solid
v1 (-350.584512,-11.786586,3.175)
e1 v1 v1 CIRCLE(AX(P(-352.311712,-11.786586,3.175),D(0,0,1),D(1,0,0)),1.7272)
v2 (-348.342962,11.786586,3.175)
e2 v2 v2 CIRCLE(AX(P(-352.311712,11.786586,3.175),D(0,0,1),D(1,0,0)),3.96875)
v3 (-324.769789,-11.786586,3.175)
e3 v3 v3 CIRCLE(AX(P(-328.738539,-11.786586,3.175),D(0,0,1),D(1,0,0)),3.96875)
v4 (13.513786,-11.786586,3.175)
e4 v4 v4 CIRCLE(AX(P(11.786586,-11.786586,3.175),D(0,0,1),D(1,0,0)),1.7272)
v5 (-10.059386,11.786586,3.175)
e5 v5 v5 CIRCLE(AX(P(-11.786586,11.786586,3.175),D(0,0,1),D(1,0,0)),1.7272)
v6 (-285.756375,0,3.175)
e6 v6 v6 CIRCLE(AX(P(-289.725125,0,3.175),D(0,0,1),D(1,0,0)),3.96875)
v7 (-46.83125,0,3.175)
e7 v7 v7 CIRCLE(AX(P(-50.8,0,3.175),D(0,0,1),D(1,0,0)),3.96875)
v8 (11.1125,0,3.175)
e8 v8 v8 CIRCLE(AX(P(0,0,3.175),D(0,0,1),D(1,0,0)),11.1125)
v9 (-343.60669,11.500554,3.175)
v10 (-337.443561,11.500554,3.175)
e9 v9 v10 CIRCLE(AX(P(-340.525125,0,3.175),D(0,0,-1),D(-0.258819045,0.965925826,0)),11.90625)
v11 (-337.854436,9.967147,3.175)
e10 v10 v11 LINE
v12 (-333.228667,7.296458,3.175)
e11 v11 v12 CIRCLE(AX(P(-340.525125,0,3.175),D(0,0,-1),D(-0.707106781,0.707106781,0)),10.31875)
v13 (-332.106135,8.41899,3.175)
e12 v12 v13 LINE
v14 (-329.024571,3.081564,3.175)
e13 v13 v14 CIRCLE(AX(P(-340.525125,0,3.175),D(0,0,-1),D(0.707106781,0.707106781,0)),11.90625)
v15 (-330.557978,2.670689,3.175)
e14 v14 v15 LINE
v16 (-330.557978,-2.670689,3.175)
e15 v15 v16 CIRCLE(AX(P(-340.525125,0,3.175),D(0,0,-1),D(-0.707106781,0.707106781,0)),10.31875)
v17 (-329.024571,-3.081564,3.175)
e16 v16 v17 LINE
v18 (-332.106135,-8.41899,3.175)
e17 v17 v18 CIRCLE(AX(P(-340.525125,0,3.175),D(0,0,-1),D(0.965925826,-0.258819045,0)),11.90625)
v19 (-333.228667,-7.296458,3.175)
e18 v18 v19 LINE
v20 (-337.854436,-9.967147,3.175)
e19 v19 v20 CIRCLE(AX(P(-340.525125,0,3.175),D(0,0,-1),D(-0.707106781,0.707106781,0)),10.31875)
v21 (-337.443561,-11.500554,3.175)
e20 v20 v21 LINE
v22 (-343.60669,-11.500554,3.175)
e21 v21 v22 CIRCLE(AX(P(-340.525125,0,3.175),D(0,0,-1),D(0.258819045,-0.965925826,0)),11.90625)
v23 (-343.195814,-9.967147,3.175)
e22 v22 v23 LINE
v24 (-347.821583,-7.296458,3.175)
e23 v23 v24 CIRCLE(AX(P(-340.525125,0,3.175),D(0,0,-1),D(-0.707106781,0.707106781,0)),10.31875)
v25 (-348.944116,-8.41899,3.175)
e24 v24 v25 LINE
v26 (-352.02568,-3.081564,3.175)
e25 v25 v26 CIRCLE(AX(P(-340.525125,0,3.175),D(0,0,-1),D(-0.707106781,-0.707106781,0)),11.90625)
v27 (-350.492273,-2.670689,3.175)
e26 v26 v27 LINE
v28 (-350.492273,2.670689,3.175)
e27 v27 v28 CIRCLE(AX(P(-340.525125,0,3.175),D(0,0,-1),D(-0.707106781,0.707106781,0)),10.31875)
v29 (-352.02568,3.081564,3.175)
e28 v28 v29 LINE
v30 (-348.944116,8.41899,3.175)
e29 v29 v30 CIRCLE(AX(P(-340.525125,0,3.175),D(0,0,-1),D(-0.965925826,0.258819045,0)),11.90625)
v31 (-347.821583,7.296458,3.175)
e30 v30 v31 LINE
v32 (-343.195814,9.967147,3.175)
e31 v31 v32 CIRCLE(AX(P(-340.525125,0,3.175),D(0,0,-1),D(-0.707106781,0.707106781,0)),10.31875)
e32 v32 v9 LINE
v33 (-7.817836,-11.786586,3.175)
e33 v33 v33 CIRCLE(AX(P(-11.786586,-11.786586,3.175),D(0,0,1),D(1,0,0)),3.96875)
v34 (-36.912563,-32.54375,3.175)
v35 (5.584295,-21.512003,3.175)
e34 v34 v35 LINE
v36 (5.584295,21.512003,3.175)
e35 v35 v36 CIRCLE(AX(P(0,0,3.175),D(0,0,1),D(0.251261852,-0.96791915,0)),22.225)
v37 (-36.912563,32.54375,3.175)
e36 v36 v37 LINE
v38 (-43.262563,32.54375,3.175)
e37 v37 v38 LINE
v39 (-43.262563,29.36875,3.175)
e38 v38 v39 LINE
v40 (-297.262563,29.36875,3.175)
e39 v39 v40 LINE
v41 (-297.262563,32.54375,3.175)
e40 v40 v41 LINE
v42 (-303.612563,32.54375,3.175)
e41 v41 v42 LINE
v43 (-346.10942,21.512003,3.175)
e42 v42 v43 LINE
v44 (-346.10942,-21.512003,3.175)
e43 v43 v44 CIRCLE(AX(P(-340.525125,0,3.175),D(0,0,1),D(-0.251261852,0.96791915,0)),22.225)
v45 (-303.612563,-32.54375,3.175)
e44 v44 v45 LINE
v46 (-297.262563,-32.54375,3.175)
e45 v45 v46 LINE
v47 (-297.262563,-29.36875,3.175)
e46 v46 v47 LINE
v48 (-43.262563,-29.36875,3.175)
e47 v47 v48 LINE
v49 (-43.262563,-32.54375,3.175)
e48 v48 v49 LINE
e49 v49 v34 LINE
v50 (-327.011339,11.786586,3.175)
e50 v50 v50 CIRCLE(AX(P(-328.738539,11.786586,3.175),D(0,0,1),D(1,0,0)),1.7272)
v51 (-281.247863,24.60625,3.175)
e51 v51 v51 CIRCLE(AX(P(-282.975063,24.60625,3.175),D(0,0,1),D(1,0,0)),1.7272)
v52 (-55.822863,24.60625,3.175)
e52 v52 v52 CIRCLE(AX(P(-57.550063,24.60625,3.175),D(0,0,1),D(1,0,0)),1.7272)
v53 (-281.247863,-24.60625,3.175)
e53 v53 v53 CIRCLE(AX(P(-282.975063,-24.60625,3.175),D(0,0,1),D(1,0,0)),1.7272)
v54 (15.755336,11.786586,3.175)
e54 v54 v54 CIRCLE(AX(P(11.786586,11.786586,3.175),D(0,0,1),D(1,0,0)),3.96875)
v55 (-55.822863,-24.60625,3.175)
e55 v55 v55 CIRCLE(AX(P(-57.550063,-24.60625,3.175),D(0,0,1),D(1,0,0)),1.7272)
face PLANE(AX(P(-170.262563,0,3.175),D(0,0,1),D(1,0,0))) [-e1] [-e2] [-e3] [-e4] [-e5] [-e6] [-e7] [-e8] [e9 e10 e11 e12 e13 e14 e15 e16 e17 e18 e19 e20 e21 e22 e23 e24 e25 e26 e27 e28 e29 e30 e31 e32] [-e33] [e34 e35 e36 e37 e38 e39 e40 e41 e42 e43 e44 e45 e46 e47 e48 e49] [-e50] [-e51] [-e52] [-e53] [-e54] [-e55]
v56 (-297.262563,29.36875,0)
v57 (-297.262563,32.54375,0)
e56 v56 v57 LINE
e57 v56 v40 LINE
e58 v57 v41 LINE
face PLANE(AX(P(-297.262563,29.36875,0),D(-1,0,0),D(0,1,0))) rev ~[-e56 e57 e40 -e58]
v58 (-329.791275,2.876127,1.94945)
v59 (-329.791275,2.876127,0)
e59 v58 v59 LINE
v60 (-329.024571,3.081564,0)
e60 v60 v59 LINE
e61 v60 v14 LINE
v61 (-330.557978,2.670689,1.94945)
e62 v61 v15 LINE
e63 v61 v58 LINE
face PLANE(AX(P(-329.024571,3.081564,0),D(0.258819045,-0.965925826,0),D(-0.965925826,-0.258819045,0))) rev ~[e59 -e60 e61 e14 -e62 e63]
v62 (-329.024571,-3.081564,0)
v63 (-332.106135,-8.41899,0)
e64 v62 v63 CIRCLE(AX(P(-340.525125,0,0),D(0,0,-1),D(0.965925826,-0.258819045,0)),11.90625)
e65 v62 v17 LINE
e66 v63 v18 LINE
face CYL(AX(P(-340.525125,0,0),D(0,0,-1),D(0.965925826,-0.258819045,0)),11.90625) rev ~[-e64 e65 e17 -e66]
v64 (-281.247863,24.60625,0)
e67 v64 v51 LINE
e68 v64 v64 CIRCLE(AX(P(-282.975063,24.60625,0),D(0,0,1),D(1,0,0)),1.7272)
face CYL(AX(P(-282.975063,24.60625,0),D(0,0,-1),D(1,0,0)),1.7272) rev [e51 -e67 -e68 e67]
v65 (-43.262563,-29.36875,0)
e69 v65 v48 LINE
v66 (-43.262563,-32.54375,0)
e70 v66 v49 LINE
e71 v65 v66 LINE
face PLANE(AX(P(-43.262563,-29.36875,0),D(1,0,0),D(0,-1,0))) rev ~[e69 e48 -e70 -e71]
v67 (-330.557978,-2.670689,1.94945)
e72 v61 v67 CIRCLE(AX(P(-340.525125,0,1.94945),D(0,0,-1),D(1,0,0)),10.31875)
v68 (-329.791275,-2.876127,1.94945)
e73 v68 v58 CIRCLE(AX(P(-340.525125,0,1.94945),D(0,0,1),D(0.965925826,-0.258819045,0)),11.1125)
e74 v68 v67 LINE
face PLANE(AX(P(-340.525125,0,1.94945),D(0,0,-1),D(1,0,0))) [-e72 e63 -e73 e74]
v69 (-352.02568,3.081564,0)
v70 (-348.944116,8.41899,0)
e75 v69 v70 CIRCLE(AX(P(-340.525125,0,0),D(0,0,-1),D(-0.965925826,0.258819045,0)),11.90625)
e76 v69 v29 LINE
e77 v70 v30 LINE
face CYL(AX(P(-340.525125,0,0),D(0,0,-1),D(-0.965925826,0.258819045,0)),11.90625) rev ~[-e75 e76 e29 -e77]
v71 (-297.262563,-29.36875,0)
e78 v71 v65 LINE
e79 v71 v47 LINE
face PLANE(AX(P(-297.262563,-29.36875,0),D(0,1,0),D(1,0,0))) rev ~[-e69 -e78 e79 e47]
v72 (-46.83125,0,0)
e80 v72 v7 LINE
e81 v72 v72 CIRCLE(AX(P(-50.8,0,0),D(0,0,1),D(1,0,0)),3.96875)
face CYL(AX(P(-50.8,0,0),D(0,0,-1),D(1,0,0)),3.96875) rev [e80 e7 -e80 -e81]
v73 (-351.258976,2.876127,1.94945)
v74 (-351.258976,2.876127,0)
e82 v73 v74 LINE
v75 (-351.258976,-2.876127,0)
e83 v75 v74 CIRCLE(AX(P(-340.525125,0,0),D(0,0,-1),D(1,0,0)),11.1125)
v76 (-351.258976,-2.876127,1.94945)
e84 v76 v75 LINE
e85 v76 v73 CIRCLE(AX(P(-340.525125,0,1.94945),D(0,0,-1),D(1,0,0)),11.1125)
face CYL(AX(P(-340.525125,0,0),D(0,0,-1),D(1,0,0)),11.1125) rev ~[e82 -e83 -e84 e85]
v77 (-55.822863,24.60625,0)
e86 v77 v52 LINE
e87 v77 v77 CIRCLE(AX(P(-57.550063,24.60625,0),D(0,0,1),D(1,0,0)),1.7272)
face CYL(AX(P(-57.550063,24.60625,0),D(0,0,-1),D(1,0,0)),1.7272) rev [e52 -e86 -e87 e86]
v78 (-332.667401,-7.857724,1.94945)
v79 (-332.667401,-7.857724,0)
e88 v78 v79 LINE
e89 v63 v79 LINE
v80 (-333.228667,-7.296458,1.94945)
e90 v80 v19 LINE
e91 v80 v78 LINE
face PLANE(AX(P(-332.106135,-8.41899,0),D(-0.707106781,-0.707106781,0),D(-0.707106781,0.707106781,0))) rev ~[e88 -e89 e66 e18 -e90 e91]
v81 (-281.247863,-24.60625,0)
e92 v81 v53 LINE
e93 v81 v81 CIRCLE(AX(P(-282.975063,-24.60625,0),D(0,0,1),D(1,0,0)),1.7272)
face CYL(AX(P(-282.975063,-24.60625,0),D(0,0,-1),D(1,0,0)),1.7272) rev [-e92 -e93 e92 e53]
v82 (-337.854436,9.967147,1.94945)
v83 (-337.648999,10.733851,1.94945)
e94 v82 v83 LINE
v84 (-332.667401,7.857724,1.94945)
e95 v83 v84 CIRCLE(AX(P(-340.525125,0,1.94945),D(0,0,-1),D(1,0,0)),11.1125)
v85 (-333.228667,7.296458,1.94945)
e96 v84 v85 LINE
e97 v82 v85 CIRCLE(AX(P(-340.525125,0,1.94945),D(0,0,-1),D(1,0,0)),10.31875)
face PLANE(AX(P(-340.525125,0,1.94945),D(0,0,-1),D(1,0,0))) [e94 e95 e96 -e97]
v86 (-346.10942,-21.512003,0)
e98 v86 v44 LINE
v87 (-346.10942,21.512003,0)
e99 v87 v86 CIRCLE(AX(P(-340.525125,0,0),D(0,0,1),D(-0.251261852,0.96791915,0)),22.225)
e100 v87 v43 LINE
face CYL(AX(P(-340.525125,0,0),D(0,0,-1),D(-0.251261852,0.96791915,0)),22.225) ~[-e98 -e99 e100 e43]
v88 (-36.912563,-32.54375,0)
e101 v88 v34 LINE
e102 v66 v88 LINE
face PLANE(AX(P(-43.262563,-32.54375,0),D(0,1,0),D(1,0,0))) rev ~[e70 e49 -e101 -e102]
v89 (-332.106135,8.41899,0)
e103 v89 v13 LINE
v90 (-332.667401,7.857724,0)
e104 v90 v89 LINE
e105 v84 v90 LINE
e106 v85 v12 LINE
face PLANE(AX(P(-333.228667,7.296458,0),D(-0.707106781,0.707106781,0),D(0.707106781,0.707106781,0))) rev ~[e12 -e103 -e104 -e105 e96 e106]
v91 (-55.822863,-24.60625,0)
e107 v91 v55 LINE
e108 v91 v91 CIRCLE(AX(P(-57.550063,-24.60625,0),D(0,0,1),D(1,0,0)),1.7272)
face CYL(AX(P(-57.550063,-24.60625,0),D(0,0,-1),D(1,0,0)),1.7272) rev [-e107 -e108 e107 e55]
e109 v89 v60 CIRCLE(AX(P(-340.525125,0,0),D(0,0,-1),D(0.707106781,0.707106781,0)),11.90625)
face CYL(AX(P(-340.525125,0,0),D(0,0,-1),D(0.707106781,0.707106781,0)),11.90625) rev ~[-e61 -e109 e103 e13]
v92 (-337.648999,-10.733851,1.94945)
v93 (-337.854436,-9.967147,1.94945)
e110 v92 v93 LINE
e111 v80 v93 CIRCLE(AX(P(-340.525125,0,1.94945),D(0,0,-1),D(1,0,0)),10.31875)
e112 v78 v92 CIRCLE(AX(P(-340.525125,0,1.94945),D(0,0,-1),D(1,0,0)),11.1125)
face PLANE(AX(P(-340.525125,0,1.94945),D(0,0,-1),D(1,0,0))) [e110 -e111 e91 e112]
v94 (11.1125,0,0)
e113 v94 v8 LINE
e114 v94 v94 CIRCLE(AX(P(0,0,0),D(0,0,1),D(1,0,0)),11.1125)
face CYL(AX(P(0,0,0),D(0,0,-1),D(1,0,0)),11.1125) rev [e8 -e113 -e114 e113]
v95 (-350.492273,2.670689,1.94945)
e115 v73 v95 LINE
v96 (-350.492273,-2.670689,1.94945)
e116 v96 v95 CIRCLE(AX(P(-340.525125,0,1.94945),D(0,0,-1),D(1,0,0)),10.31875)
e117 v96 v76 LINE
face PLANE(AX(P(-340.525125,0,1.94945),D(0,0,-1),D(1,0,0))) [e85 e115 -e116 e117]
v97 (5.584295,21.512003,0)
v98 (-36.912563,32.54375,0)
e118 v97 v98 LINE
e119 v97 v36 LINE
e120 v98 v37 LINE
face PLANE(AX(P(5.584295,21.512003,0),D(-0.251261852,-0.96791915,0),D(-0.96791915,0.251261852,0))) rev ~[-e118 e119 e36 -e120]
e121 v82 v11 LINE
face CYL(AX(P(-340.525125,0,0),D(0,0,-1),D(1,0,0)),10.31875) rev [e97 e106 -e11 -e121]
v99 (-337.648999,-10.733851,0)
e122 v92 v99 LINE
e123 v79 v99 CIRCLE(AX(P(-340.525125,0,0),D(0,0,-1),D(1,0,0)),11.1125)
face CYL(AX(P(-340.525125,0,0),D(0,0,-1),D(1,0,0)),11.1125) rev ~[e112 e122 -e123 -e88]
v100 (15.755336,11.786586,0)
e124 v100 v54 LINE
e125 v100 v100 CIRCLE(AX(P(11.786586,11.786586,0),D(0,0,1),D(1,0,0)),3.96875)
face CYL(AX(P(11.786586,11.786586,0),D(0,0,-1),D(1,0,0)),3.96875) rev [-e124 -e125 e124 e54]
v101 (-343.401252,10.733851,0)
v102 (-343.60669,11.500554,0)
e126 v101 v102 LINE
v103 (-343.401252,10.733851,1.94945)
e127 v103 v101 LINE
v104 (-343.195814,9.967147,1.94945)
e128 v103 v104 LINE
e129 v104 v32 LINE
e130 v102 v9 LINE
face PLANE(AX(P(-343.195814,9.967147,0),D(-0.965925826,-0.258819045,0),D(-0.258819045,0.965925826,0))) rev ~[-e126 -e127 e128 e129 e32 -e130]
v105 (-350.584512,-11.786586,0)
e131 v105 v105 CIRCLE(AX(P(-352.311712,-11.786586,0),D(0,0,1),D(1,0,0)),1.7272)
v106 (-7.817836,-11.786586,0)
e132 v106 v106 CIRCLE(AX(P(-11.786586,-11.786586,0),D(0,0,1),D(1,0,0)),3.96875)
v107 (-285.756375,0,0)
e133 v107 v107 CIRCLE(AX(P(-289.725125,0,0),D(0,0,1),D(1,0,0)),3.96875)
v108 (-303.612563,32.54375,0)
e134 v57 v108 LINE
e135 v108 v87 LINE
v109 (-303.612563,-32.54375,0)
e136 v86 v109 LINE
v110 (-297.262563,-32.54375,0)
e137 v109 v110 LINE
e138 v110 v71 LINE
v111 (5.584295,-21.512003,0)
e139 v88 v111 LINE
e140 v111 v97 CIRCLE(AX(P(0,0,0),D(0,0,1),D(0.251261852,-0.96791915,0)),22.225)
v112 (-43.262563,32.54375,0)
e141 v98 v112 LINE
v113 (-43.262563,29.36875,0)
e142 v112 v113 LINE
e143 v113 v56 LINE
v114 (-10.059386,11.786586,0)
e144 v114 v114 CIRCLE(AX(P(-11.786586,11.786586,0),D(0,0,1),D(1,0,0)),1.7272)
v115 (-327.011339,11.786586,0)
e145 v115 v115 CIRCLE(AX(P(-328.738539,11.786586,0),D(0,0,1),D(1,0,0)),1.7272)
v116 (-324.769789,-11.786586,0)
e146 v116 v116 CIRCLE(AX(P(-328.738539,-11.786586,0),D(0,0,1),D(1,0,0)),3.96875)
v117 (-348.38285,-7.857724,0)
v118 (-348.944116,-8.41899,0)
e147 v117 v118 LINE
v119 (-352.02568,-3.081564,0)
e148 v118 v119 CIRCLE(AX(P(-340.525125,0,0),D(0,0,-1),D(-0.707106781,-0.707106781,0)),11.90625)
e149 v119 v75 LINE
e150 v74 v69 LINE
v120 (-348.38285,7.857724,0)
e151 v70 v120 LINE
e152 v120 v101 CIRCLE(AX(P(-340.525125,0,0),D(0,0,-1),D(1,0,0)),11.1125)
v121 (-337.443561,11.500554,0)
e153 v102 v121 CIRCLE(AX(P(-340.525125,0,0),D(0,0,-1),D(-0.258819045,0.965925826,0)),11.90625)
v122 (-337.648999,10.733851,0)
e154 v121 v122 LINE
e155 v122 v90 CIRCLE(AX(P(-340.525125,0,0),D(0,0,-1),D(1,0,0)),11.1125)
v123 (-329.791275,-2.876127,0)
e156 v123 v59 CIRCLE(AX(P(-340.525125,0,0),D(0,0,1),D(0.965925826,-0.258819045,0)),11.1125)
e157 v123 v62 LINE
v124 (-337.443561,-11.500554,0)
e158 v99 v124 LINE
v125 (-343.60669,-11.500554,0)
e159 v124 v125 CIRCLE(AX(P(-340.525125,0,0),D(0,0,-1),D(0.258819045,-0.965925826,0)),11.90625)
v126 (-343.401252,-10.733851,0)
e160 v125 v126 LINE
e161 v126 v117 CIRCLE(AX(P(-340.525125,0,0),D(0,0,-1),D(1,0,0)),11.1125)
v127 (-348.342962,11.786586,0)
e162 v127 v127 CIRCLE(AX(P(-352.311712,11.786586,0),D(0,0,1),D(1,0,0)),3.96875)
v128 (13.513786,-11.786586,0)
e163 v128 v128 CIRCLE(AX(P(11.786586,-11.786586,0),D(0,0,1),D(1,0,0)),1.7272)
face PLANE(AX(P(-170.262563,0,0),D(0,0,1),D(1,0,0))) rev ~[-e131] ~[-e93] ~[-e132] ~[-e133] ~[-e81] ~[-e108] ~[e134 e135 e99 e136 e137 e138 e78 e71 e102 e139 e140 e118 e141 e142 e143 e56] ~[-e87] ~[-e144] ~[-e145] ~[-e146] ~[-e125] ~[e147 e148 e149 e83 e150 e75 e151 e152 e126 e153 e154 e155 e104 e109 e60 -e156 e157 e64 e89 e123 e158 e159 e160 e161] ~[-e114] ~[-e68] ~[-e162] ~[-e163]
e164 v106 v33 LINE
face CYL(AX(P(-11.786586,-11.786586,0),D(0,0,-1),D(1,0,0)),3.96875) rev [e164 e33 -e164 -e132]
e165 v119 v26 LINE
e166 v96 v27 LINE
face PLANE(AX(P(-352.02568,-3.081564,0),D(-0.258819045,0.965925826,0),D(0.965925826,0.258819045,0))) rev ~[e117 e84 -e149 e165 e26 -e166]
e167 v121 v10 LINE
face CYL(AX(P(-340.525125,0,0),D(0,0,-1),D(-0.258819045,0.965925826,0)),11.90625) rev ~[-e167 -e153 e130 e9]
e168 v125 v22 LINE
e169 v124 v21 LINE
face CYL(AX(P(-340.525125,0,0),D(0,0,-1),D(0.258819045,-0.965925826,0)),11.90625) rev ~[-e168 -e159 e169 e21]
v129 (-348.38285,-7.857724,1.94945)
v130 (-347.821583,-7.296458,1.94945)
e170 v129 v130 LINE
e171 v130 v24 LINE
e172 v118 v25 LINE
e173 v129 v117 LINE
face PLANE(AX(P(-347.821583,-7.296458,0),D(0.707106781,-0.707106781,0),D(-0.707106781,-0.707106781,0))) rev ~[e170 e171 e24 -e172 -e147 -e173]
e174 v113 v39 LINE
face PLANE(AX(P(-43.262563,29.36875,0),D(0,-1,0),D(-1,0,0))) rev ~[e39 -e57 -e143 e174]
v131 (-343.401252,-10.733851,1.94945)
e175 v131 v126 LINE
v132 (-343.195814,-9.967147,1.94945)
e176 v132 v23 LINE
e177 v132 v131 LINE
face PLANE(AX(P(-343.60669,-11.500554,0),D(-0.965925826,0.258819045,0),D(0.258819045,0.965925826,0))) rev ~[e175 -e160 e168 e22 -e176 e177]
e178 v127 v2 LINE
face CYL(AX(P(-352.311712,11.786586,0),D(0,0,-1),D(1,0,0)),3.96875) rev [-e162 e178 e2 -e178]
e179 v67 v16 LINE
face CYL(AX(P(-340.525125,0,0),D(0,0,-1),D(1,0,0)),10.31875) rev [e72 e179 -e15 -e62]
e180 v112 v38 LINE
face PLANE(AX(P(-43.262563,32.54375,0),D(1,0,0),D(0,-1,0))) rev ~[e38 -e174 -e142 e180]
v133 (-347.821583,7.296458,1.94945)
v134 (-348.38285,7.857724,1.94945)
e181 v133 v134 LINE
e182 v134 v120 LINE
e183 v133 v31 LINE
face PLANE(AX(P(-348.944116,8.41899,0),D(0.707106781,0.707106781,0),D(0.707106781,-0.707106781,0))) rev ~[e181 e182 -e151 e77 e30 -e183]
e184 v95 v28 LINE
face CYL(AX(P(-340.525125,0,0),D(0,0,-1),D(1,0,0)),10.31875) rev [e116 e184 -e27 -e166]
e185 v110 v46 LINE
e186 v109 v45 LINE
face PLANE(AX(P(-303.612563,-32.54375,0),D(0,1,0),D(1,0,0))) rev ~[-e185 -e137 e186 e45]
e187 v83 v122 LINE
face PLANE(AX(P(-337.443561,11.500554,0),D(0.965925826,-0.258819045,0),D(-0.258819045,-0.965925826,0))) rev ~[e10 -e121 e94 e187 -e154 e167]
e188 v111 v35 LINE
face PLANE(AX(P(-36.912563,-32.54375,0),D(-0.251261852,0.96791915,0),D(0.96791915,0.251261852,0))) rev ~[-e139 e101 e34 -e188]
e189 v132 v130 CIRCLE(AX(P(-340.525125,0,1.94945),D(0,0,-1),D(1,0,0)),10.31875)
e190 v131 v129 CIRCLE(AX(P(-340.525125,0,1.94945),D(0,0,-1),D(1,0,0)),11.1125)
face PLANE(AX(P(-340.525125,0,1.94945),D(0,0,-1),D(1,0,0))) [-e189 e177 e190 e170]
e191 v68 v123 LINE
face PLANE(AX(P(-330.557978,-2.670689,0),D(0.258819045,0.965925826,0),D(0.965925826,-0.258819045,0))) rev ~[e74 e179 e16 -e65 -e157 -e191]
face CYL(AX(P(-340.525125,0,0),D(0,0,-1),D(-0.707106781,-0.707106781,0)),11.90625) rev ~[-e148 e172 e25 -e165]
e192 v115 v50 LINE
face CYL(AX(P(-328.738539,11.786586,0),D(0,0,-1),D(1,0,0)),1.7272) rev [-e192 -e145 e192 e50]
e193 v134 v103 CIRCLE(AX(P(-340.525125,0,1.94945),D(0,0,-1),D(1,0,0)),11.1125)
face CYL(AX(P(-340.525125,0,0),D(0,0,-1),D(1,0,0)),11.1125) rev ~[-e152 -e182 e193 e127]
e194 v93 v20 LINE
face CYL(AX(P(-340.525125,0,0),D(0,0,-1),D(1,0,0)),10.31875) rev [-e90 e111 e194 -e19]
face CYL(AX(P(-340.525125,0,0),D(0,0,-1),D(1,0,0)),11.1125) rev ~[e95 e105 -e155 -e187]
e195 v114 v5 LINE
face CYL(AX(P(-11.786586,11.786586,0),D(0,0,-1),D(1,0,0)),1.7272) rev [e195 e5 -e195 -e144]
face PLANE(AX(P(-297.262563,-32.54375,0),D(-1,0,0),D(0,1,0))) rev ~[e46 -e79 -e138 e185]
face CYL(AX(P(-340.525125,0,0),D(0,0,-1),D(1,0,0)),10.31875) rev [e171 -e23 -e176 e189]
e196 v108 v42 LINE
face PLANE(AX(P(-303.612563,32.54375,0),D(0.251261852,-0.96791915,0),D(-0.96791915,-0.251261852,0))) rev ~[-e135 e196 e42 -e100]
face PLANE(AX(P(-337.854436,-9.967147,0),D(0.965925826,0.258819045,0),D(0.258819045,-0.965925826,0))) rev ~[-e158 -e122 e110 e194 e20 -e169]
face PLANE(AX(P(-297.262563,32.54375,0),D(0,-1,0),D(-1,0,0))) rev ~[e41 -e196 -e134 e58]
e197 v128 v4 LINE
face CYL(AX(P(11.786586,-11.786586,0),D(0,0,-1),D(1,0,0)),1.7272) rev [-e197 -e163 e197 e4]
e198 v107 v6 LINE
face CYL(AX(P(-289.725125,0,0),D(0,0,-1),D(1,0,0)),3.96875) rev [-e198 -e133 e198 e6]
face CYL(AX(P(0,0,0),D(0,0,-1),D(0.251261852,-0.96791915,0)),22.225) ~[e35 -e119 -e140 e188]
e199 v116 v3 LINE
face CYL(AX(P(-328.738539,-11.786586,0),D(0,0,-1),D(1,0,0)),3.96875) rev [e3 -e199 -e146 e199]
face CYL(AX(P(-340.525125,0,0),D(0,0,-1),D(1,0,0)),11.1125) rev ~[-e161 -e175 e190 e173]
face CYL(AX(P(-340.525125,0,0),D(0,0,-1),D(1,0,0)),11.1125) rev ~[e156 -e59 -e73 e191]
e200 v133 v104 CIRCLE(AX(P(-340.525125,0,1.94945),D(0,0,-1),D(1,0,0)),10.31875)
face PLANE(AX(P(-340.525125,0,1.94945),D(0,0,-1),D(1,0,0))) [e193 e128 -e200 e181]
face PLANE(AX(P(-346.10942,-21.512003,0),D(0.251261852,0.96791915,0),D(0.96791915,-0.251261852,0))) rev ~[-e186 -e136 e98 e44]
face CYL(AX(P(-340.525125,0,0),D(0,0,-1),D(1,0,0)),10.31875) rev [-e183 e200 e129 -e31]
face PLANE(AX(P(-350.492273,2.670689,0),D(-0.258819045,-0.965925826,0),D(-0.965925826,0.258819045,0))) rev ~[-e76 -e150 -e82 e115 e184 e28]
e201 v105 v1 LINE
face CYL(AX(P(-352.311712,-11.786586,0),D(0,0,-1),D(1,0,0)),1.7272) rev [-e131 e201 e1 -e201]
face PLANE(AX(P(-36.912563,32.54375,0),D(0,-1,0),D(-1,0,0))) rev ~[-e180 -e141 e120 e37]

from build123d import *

# Parameters (mm, degrees)
F0_R     = 1.7272
F0_R_2   = 3.96875
F0_R_3   = 10.31875
F0_R_4   = 11.1125
F1_DEPTH = 3.175
F3_DEPTH = 3.175
F4_COUNT = 6
F4_ANGLE = 300
F5_R     = 11.1125
F6_DEPTH = 1.94945


with BuildPart() as f1:
    # F0 (on Top) → F1 (new body)
    with BuildSketch(Plane.XY):
        with BuildLine():
            Line((-303.6125627, 32.54375), (-346.1094200534, 21.5120031198))
            ThreePointArc((-346.1094200534, 21.5120031198), (-362.7501254, 0), (-346.1094200534, -21.5120031198))
            Line((-346.1094200534, -21.5120031198), (-303.6125627, -32.54375))
            Line((-303.6125627, -32.54375), (-297.2625627, -32.54375))
            Line((-297.2625627, -32.54375), (-297.2625627, -29.36875))
            Line((-297.2625627, -29.36875), (-43.2625627, -29.36875))
            Line((-43.2625627, -29.36875), (-43.2625627, -32.54375))
            Line((-43.2625627, -32.54375), (-36.9125627, -32.54375))
            Line((-36.9125627, -32.54375), (5.5842946534, -21.5120031198))
            ThreePointArc((5.5842946534, -21.5120031198), (22.225, 0), (5.5842946534, 21.5120031198))
            Line((5.5842946534, 21.5120031198), (-36.9125627, 32.54375))
            Line((-36.9125627, 32.54375), (-43.2625627, 32.54375))
            Line((-43.2625627, 32.54375), (-43.2625627, 29.36875))
            Line((-43.2625627, 29.36875), (-297.2625627, 29.36875))
            Line((-297.2625627, 29.36875), (-297.2625627, 32.54375))
            Line((-297.2625627, 32.54375), (-303.6125627, 32.54375))
        make_face()
        with Locations((-282.9750627, -24.60625)):
            Circle(F0_R, mode=Mode.SUBTRACT)
        with Locations((-352.3117115589, -11.7865861589)):
            Circle(F0_R, mode=Mode.SUBTRACT)
        with Locations((-328.7385392411, -11.7865861589)):
            Circle(F0_R_2, mode=Mode.SUBTRACT)
        with Locations((-57.5500627, -24.60625)):
            Circle(F0_R, mode=Mode.SUBTRACT)
        with Locations((-11.7865861589, -11.7865861589)):
            Circle(F0_R_2, mode=Mode.SUBTRACT)
        with Locations((11.7865861589, -11.7865861589)):
            Circle(F0_R, mode=Mode.SUBTRACT)
        with Locations((-340.5251254, 0)):
            Circle(F0_R_3, mode=Mode.SUBTRACT)
        with Locations((-289.7251254, 0)):
            Circle(F0_R_2, mode=Mode.SUBTRACT)
        with Locations((-352.3117115589, 11.7865861589)):
            Circle(F0_R_2, mode=Mode.SUBTRACT)
        with Locations((-328.7385392411, 11.7865861589)):
            Circle(F0_R, mode=Mode.SUBTRACT)
        with Locations((-282.9750627, 24.60625)):
            Circle(F0_R, mode=Mode.SUBTRACT)
        with Locations((-50.8, 0)):
            Circle(F0_R_2, mode=Mode.SUBTRACT)
        Circle(F0_R_4, mode=Mode.SUBTRACT)
        with Locations((-11.7865861589, 11.7865861589)):
            Circle(F0_R, mode=Mode.SUBTRACT)
        with Locations((11.7865861589, 11.7865861589)):
            Circle(F0_R_2, mode=Mode.SUBTRACT)
        with Locations((-57.5500627, 24.60625)):
            Circle(F0_R, mode=Mode.SUBTRACT)
    extrude(amount=F1_DEPTH)

    # F2 (on face) → F3 (cut, through all)
    with BuildSketch(Plane(origin=(0, 0, 0), x_dir=(1, 0, 0), z_dir=(0, 0, -1))):
        with BuildLine():
            ThreePointArc((-347.8215834984, -7.2964580984), (-349.4614250353, -5.159375), (-350.49227252, -2.6706890217))
            Line((-350.49227252, -2.6706890217), (-352.0256797693, -3.0815642558))
            ThreePointArc((-352.0256797693, -3.0815642558), (-350.8362403638, -5.953125), (-348.9441155135, -8.4189901135))
            Line((-348.9441155135, -8.4189901135), (-347.8215834984, -7.2964580984))
        make_face()
    f3 = extrude(amount=-F3_DEPTH, mode=Mode.SUBTRACT)

    # F4: F3 ×6 about axis
    f4_axis = Axis((-340.5251254, 0, 0), (0, 0, -1))
    for i in range(1, F4_COUNT):
        add(f3.rotate(f4_axis, i * F4_ANGLE / (F4_COUNT - 1)), mode=Mode.SUBTRACT)

    # F5 (on face) → F6 (cut)
    with BuildSketch(Plane(origin=(0, 0, 0), x_dir=(1, 0, 0), z_dir=(0, 0, -1))):
        with Locations((-340.5251254, 0)):
            Circle(F5_R)
    extrude(amount=-F6_DEPTH, mode=Mode.SUBTRACT)


solid = f1.part
